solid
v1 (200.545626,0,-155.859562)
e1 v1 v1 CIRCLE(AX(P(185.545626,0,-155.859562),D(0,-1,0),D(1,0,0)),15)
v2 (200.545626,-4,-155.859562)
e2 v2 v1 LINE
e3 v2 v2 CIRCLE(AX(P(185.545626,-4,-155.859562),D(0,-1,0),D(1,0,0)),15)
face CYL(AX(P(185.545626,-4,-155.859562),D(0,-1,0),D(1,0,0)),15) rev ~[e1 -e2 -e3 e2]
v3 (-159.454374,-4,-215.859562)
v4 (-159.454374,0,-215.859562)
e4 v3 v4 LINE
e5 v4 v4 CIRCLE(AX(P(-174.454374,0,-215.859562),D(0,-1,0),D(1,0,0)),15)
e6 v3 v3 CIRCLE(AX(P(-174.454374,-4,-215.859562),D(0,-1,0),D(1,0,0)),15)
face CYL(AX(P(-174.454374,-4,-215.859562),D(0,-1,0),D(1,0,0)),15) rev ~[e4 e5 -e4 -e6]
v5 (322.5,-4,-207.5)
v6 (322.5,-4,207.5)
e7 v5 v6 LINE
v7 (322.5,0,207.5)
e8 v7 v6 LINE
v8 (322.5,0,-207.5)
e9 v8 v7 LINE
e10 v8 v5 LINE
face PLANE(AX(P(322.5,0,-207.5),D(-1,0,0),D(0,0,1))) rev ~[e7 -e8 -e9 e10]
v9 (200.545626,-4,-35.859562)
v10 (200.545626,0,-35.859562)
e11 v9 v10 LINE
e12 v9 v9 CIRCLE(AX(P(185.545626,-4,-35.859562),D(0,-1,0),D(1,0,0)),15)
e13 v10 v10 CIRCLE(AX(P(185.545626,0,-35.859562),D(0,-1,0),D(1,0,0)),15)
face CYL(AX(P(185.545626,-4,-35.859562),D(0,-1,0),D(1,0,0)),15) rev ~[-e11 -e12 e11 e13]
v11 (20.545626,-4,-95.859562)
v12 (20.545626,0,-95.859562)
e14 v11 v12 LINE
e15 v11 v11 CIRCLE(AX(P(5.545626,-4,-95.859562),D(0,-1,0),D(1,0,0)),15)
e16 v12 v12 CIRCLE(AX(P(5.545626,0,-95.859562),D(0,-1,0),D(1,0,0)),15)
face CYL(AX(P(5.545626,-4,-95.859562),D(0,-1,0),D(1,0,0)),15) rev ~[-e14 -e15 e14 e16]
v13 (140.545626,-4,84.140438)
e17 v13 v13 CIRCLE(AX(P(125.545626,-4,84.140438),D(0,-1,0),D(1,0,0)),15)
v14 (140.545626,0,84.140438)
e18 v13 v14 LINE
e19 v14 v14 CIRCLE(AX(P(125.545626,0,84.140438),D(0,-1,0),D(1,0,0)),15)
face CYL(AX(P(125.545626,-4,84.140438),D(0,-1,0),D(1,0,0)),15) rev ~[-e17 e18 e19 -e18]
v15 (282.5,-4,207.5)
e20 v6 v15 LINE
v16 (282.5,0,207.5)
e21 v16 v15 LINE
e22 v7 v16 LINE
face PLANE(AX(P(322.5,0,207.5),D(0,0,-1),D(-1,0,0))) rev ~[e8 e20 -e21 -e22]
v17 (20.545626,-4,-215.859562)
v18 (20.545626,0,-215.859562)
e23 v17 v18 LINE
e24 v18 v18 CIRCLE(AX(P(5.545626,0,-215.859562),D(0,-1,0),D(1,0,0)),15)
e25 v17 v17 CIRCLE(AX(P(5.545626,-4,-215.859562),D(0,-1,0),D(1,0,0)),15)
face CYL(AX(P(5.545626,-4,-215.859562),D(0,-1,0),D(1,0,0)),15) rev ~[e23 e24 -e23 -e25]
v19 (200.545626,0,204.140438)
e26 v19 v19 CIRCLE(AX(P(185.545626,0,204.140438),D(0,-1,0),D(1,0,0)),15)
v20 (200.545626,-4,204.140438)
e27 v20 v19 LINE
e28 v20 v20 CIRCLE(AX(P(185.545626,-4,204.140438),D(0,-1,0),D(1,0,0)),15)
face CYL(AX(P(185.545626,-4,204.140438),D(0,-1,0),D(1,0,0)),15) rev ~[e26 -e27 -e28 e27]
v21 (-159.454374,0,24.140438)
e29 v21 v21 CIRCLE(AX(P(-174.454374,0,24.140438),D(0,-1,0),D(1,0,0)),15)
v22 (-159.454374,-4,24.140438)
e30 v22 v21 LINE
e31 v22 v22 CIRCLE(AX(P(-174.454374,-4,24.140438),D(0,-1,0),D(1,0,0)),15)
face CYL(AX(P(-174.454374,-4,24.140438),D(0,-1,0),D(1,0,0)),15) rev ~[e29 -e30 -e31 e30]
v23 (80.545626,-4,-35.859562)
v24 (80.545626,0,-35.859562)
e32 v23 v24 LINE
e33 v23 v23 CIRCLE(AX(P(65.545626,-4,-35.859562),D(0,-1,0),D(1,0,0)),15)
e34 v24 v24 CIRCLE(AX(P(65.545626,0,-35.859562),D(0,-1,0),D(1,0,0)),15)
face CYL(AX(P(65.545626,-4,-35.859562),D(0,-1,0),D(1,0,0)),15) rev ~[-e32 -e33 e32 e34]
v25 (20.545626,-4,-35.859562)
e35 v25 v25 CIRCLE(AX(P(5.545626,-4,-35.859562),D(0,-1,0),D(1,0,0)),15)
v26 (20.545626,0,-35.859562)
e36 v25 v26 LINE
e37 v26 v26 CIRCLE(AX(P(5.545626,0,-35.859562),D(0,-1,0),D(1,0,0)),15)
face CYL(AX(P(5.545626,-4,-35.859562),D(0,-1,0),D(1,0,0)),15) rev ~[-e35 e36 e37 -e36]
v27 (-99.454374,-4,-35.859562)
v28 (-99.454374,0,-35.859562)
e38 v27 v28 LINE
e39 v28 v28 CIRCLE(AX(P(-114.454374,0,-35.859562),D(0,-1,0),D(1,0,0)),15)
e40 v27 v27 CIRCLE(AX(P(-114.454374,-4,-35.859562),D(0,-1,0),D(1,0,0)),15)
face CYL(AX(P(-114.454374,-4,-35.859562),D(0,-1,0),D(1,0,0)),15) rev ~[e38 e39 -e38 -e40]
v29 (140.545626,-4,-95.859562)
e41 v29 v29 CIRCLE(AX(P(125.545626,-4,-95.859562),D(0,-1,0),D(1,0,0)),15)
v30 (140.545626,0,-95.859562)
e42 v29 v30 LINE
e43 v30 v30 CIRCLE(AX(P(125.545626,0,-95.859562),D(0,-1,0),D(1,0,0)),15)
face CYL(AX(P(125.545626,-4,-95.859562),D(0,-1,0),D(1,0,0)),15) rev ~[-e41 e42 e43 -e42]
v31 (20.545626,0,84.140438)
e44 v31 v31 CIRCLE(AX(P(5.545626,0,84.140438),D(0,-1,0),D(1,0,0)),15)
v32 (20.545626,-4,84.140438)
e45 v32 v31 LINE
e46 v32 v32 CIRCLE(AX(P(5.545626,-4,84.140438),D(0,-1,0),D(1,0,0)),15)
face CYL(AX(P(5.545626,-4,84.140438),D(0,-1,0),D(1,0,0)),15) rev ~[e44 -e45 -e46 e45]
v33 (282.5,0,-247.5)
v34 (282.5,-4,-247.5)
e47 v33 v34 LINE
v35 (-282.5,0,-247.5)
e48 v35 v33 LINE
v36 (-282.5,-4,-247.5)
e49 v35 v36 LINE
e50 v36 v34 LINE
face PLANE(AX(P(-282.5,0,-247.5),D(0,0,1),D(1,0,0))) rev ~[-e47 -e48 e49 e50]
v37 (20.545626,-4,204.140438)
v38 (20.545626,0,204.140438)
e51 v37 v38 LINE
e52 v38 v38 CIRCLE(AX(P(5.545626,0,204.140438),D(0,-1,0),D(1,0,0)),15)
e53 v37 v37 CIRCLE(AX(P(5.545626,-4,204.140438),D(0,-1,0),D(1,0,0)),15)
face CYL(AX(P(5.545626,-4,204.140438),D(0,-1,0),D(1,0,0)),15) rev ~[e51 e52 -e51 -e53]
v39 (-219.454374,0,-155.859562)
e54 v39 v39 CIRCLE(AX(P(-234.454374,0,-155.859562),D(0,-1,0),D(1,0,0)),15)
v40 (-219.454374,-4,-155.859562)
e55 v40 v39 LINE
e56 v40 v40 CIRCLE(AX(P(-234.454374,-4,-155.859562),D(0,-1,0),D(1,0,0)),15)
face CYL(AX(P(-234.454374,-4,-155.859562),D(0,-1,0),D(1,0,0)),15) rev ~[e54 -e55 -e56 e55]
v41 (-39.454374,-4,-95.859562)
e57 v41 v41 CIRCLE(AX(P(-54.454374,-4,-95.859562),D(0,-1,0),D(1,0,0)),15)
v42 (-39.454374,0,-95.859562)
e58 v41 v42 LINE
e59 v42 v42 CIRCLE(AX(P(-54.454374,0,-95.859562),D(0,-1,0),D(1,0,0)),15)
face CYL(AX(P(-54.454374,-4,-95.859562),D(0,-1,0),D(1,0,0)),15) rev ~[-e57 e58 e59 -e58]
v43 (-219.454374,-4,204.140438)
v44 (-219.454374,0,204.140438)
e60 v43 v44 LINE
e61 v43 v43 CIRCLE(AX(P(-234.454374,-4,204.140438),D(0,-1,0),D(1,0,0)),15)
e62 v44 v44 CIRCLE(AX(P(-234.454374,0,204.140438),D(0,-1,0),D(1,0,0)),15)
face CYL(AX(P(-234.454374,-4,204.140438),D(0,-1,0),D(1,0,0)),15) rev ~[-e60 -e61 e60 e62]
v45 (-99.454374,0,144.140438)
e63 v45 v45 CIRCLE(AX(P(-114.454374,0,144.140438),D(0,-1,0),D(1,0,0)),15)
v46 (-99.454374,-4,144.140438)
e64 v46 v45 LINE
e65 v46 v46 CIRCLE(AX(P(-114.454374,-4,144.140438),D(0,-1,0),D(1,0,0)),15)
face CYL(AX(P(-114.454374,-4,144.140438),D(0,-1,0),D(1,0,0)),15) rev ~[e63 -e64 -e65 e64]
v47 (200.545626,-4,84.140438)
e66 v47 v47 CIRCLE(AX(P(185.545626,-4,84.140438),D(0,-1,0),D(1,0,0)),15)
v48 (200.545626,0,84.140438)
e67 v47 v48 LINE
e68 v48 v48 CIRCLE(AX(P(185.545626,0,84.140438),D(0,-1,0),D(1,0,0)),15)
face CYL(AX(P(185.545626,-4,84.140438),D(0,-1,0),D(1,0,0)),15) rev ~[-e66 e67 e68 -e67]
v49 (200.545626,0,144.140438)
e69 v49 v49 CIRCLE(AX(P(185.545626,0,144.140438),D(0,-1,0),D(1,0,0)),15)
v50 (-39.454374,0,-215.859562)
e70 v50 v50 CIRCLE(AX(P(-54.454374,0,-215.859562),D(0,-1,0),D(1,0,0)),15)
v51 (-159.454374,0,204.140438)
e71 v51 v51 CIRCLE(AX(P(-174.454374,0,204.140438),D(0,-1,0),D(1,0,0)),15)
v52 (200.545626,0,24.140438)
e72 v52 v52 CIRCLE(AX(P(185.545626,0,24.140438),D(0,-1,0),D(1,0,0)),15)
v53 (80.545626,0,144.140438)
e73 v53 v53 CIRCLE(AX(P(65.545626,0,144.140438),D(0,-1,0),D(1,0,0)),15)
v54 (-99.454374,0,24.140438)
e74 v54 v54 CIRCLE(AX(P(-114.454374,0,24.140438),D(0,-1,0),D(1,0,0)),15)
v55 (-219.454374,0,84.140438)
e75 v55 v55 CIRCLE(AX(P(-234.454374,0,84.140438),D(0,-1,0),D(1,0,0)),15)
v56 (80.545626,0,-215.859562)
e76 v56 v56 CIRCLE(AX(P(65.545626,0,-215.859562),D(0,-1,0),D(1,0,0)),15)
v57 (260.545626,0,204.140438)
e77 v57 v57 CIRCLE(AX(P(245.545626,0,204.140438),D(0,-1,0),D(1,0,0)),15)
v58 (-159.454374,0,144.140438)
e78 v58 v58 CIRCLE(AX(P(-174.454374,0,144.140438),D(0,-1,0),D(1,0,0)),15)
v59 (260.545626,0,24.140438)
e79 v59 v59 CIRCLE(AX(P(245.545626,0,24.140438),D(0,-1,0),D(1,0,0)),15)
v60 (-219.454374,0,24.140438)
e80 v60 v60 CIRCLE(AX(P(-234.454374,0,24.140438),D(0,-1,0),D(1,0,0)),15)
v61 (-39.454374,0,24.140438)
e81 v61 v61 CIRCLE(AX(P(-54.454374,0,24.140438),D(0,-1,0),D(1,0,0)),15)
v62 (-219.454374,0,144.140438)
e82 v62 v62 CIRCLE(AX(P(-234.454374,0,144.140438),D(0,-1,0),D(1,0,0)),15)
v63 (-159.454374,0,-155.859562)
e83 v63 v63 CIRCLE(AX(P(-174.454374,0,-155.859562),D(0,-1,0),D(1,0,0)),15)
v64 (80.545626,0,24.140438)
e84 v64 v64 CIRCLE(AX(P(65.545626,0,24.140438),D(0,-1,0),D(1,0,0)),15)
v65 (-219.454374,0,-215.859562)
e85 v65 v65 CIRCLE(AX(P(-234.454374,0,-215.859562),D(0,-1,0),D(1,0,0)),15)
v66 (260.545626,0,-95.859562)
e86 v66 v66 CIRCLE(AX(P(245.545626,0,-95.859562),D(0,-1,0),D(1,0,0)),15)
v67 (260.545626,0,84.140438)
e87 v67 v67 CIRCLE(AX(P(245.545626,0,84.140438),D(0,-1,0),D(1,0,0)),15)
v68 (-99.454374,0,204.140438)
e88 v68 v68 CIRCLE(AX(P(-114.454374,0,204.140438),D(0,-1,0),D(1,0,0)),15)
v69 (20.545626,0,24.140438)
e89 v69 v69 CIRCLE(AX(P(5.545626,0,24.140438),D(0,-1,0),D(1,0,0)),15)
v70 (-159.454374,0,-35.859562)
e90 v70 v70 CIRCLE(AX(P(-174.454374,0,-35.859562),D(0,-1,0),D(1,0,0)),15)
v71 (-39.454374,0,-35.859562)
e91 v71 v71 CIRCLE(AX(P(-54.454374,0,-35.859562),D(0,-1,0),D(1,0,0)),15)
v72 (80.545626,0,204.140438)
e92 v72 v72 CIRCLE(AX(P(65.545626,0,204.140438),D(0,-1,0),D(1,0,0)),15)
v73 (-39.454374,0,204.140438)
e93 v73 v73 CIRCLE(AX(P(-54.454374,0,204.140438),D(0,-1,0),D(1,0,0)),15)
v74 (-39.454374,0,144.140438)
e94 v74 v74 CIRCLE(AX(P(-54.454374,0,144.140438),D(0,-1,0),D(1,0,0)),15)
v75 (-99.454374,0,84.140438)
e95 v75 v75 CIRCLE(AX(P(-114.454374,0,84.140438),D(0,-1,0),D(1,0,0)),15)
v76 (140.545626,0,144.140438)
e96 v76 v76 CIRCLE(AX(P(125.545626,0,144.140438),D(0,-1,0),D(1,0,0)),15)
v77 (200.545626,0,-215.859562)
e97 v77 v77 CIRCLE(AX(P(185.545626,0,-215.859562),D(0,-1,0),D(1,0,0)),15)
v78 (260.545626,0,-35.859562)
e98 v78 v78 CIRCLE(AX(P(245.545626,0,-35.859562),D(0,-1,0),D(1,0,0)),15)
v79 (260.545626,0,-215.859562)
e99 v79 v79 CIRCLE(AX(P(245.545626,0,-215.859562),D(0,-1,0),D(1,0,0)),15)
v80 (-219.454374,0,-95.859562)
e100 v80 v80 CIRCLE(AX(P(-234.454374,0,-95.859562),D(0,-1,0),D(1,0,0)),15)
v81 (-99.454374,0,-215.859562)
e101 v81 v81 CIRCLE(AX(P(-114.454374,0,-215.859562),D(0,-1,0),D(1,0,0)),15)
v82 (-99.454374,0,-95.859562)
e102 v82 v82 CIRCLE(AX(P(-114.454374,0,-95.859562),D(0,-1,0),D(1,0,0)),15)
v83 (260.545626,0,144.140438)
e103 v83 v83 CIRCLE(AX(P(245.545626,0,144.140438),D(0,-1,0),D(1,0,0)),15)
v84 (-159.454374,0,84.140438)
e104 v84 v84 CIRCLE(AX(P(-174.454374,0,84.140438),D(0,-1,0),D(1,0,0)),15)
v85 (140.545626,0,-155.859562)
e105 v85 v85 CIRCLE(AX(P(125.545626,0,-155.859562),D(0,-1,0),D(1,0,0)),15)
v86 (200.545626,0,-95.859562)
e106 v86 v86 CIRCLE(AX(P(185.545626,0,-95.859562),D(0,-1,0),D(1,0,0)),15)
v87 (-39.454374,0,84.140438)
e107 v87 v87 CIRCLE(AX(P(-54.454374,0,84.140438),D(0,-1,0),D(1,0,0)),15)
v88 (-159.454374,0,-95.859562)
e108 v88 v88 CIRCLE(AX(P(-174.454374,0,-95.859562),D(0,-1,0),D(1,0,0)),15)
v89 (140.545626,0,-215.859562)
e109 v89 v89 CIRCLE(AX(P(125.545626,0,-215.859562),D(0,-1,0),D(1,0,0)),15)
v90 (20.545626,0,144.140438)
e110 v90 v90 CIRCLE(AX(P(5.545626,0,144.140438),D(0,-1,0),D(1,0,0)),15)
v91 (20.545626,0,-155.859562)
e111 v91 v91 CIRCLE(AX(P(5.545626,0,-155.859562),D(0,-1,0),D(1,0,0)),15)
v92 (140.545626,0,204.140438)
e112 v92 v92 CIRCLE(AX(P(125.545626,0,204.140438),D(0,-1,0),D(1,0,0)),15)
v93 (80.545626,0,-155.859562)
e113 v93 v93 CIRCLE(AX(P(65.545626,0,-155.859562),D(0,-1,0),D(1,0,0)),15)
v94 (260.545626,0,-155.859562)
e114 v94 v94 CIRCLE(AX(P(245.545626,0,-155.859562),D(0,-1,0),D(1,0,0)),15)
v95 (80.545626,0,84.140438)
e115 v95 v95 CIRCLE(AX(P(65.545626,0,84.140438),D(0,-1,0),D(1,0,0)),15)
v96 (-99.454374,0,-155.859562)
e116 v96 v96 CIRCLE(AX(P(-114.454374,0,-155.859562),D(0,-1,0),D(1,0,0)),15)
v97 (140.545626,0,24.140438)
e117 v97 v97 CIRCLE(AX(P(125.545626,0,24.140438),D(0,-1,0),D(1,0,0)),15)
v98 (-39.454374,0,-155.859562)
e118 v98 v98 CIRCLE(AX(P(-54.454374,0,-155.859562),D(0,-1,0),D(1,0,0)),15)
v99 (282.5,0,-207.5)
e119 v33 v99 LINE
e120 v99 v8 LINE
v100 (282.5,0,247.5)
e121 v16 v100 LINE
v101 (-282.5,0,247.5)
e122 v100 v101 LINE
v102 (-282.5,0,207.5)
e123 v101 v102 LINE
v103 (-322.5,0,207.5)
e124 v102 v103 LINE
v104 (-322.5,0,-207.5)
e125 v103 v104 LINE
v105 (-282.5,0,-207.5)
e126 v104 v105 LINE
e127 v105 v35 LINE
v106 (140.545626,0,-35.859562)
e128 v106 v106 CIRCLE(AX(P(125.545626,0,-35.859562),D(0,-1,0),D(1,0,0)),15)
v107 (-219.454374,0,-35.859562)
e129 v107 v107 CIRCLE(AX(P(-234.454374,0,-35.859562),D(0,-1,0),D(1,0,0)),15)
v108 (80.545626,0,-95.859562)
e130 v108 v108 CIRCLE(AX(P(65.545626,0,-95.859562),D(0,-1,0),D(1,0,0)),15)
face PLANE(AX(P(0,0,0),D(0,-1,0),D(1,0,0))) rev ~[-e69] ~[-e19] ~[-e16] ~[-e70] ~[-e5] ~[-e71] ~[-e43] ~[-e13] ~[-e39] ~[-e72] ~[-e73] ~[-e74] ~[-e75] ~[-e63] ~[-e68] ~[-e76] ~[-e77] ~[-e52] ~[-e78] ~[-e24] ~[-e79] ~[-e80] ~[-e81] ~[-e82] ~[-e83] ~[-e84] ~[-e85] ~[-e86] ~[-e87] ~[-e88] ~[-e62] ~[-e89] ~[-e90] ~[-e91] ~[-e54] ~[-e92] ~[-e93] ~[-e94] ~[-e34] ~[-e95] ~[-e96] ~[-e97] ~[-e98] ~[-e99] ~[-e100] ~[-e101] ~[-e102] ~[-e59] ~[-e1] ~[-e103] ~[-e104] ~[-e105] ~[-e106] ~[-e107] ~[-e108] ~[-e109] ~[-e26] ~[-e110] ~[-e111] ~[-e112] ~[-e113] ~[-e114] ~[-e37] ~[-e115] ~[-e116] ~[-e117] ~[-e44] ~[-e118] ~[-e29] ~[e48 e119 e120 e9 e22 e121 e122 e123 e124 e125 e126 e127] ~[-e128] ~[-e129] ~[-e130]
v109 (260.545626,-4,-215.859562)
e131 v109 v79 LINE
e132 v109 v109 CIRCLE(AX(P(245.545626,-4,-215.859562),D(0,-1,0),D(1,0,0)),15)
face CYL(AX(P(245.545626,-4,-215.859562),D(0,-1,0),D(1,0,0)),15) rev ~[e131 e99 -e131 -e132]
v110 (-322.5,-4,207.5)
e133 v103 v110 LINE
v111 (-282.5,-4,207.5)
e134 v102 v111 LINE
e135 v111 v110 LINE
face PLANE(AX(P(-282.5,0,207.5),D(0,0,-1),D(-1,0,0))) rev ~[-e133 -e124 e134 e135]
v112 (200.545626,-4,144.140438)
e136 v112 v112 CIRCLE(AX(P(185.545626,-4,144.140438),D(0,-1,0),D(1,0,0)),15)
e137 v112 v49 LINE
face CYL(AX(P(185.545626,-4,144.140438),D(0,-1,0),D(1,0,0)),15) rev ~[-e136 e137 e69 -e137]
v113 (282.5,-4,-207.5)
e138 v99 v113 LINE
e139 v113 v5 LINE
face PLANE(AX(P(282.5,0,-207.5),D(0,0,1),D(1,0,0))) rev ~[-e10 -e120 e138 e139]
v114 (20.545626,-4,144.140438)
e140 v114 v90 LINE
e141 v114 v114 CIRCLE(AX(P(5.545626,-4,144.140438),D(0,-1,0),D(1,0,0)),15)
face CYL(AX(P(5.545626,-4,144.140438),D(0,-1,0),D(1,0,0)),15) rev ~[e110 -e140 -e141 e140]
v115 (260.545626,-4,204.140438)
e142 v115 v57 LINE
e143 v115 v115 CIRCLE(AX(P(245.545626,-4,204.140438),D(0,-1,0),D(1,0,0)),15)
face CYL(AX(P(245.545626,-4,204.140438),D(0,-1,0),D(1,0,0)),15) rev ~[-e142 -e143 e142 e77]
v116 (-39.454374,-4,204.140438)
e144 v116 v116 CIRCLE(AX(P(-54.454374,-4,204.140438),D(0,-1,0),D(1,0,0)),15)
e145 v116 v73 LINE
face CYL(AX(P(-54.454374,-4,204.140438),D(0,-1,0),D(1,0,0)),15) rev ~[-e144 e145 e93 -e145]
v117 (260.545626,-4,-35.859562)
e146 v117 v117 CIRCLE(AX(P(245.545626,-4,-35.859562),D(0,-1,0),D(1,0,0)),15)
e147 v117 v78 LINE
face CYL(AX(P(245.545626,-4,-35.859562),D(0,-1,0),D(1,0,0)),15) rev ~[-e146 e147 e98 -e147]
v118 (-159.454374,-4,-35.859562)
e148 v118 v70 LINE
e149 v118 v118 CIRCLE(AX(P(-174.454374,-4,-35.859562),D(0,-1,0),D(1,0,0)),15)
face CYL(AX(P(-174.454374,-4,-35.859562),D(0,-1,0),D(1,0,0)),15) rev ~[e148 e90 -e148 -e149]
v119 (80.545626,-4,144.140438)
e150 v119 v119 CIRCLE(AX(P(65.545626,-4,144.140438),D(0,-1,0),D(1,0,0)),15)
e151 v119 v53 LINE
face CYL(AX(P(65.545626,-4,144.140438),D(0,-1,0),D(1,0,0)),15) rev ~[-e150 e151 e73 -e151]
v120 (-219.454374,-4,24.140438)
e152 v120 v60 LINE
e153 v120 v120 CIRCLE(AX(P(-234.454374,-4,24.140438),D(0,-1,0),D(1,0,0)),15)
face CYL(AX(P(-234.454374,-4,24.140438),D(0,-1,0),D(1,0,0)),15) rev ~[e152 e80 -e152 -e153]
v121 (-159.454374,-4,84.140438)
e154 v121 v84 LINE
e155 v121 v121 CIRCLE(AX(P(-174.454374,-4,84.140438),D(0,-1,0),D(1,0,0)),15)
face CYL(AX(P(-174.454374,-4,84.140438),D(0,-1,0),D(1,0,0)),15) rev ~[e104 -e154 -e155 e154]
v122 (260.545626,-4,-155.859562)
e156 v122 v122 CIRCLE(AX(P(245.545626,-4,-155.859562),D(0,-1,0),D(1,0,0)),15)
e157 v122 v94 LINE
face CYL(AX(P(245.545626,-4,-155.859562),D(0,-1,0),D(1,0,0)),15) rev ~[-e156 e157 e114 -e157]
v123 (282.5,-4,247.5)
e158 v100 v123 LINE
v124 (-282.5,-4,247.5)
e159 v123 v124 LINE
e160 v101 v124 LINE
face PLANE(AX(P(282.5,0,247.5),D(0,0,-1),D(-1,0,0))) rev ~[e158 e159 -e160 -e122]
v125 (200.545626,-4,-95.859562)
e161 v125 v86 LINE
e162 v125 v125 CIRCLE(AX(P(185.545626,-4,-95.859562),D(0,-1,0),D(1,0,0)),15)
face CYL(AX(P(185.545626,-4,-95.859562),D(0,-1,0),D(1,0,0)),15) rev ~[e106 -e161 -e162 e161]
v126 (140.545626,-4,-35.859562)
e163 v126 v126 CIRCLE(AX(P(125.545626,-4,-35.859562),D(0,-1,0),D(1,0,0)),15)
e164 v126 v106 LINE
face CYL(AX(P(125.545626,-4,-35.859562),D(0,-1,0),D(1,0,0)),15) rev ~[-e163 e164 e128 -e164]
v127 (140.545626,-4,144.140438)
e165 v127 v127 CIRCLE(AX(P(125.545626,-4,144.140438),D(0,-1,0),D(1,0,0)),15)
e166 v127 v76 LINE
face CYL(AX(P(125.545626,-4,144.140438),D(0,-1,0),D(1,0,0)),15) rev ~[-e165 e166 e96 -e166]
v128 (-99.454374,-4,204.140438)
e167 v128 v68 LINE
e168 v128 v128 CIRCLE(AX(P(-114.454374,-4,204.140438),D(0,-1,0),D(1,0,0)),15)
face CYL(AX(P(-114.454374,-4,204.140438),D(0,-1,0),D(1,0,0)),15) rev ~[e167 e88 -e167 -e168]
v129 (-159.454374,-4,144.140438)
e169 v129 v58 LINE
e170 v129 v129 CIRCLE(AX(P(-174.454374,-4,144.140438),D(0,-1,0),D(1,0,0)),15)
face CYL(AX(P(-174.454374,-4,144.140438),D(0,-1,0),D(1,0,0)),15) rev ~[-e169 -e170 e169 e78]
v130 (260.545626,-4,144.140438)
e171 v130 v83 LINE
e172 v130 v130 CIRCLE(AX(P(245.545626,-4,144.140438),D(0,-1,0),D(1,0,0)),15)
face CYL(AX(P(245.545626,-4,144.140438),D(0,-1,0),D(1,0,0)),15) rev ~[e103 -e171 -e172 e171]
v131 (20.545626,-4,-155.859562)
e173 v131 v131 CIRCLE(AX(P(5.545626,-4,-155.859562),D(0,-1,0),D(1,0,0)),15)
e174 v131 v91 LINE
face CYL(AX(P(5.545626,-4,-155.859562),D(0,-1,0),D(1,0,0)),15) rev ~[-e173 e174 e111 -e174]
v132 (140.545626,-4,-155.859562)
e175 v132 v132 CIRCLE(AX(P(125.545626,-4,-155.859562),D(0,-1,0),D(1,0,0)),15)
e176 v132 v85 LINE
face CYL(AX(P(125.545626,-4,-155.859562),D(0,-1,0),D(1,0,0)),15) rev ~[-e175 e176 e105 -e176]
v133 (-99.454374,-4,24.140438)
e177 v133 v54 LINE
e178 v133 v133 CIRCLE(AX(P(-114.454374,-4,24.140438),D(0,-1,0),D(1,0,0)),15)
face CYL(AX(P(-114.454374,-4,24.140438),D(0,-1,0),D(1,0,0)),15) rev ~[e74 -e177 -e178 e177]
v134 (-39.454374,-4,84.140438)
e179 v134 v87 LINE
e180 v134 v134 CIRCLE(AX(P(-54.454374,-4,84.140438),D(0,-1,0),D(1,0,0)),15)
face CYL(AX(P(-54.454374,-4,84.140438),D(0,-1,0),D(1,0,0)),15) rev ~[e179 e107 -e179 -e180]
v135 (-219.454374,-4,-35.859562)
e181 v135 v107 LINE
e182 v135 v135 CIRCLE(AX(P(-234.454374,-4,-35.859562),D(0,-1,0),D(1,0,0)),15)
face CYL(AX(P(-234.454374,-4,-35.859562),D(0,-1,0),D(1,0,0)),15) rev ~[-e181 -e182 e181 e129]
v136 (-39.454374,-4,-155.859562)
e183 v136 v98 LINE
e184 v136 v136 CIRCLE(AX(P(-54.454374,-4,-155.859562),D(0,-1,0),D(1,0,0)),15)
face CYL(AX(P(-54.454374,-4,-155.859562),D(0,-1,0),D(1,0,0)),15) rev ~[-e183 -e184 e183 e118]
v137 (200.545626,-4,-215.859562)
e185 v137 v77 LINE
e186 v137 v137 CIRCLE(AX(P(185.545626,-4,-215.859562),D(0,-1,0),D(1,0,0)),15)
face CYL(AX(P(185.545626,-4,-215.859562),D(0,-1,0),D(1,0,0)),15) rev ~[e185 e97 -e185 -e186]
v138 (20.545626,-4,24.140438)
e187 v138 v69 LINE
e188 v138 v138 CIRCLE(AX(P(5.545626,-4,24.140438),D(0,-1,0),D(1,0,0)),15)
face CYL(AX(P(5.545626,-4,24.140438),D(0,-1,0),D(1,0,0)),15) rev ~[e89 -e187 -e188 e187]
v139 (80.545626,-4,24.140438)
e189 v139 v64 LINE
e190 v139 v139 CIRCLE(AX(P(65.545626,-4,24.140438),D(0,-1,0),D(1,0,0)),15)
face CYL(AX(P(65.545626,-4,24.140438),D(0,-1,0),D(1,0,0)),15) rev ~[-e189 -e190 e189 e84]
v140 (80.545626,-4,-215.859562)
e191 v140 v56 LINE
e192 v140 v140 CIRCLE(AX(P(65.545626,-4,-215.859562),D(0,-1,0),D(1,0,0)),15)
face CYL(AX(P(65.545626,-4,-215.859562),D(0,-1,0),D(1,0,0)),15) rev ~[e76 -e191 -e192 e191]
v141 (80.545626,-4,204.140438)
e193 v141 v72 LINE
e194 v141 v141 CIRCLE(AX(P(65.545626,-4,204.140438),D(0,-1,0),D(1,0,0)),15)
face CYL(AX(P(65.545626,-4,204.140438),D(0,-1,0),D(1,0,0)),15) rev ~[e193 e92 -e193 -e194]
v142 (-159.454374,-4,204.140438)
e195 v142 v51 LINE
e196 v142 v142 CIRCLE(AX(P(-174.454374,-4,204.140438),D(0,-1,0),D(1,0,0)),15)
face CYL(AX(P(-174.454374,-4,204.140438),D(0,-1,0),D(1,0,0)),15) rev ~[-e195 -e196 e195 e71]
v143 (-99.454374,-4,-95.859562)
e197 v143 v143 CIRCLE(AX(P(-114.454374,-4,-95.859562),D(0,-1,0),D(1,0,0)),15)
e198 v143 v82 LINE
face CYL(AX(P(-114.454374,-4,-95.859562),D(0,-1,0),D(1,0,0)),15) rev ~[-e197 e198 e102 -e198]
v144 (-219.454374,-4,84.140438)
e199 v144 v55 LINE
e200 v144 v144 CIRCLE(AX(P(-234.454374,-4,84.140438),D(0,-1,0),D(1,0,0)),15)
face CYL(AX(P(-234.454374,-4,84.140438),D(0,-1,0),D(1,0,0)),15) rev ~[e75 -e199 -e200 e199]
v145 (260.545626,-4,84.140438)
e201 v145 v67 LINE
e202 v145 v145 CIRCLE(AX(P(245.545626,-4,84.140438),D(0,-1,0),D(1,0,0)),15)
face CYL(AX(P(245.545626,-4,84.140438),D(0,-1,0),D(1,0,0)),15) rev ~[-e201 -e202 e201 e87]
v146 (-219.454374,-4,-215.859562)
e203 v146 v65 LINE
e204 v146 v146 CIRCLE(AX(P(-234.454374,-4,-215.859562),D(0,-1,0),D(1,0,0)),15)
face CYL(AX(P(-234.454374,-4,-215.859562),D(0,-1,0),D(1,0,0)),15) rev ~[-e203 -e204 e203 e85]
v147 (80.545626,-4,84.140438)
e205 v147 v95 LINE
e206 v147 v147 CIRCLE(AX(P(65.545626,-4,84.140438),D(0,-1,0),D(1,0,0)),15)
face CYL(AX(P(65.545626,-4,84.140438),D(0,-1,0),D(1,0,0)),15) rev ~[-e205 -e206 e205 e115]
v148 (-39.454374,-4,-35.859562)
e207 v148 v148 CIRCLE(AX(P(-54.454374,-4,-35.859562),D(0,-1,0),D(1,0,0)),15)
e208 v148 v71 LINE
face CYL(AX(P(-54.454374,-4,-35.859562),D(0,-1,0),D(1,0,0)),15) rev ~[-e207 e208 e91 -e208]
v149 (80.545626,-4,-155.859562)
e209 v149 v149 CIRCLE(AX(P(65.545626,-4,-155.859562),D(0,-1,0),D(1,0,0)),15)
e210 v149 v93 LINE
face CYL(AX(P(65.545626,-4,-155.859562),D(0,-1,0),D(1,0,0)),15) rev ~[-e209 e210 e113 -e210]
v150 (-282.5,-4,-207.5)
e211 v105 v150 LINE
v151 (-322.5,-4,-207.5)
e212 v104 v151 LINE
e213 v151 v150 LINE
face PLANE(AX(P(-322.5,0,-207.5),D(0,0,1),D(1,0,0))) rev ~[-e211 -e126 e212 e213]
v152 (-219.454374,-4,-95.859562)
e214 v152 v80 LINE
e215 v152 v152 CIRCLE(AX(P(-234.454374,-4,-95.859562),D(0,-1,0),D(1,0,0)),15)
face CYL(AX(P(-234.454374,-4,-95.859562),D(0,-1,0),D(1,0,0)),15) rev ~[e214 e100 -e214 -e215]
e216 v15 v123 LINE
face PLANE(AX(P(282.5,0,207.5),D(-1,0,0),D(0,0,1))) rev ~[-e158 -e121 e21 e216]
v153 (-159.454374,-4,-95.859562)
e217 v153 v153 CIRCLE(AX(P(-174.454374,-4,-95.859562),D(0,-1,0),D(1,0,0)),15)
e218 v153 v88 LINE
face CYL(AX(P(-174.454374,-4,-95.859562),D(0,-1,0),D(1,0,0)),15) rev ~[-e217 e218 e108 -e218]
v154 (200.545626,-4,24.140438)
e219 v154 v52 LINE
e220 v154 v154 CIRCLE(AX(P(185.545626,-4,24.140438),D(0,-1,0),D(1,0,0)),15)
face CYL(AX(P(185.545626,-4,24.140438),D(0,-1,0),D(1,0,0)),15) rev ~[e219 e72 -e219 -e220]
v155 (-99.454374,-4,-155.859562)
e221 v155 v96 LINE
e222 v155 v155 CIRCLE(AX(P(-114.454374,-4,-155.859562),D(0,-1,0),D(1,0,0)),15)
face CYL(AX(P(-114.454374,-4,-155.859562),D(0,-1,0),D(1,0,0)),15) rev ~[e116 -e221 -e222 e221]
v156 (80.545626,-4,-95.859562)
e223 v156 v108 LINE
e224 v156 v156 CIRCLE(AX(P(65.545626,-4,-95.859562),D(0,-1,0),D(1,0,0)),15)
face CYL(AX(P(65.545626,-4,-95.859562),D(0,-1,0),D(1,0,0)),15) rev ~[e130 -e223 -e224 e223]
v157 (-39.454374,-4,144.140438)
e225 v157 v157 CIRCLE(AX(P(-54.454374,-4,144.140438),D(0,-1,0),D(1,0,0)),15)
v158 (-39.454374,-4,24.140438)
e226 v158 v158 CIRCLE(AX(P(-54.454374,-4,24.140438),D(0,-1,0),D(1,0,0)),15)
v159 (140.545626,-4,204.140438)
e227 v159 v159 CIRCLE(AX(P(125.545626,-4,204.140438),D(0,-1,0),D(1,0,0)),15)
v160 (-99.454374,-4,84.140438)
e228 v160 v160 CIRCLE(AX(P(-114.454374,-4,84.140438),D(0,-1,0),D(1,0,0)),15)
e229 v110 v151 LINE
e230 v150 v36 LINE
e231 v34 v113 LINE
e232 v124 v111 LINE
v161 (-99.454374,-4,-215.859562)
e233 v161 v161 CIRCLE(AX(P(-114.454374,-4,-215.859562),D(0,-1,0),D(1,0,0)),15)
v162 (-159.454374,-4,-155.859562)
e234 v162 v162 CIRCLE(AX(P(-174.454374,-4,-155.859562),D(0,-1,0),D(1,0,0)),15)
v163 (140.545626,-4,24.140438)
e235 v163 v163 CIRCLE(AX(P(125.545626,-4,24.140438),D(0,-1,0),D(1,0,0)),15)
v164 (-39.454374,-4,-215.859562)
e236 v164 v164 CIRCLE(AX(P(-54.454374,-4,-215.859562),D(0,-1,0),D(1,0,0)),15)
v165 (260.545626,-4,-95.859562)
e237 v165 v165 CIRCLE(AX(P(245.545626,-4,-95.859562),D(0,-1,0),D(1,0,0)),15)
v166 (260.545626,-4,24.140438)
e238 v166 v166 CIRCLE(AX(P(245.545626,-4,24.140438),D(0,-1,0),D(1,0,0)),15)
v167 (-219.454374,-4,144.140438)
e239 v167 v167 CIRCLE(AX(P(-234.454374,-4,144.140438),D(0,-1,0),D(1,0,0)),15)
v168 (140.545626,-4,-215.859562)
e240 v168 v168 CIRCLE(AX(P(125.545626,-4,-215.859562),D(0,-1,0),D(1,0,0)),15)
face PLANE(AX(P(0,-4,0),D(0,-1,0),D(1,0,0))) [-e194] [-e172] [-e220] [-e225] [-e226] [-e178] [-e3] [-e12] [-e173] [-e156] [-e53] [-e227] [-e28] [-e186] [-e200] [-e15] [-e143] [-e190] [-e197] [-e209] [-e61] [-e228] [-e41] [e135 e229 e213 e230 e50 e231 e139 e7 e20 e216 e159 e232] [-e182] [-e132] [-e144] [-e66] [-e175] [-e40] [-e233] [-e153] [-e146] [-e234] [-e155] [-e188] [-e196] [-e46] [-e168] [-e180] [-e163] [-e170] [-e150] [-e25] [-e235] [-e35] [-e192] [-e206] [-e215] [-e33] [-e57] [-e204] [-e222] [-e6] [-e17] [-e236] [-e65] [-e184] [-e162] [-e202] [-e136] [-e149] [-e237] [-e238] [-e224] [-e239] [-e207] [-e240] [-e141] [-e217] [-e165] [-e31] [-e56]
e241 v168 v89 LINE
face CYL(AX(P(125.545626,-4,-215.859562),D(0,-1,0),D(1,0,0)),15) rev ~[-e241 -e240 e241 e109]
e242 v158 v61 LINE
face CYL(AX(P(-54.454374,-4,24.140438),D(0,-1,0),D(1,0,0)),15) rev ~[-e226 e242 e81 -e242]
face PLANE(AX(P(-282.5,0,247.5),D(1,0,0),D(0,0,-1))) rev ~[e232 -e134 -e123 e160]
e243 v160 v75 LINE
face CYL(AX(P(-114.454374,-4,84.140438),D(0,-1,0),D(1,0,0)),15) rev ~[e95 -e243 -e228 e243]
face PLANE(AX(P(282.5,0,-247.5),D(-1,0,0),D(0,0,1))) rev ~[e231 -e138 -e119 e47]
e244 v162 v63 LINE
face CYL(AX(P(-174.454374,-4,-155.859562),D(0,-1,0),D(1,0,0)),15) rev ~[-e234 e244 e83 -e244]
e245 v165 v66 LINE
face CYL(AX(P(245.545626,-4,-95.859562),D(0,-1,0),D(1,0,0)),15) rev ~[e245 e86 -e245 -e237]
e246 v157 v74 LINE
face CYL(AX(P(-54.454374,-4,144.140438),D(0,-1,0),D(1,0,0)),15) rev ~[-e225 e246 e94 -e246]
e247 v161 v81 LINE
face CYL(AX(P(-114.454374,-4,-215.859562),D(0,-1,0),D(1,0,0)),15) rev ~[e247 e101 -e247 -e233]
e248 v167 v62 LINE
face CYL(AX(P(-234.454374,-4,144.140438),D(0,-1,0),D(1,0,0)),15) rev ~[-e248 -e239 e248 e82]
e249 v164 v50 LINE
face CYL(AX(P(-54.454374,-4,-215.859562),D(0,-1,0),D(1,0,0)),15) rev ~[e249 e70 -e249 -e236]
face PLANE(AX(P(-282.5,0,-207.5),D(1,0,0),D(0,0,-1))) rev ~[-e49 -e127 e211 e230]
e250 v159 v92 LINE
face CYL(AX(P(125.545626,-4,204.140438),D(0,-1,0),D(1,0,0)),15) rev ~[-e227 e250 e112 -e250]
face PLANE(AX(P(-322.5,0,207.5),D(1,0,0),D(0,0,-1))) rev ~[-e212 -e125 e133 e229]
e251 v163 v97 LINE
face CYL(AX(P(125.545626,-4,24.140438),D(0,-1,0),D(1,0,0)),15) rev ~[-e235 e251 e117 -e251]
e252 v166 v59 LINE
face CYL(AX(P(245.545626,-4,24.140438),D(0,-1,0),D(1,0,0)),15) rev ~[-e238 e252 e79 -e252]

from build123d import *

# Parameters (mm, degrees)
F1_DEPTH = 4
F2_R     = 15
F3_DEPTH = 5


with BuildPart() as f1:
    # F0 (on Front) → F1 (new body)
    with BuildSketch(Plane.XZ):
        Polygon((282.5, 247.5), (0, 247.5), (-282.5, 247.5), (-282.5, 207.5), (-322.5, 207.5), (-322.5, 0), (-322.5, -207.5), (-282.5, -207.5), (-282.5, -247.5), (0, -247.5), (282.5, -247.5), (282.5, -207.5), (322.5, -207.5), (322.5, 0), (322.5, 207.5), (282.5, 207.5), align=None)
    extrude(amount=F1_DEPTH)

    # F2 (on face) → F3 (cut)
    with BuildSketch(Plane.XZ.offset(4)):
        with Locations((245.545626, -215.859562)):
            Circle(F2_R)
        with Locations((245.545626, -155.859562)):
            Circle(F2_R)
        with Locations((245.545626, -95.859562)):
            Circle(F2_R)
        with Locations((245.545626, -35.859562)):
            Circle(F2_R)
        with Locations((245.545626, 24.140438)):
            Circle(F2_R)
        with Locations((245.545626, 84.140438)):
            Circle(F2_R)
        with Locations((245.545626, 144.140438)):
            Circle(F2_R)
        with Locations((245.545626, 204.140438)):
            Circle(F2_R)
        with Locations((185.545626, -215.859562)):
            Circle(F2_R)
        with Locations((185.545626, -155.859562)):
            Circle(F2_R)
        with Locations((185.545626, -95.859562)):
            Circle(F2_R)
        with Locations((185.545626, -35.859562)):
            Circle(F2_R)
        with Locations((185.545626, 24.140438)):
            Circle(F2_R)
        with Locations((185.545626, 84.140438)):
            Circle(F2_R)
        with Locations((185.545626, 144.140438)):
            Circle(F2_R)
        with Locations((185.545626, 204.140438)):
            Circle(F2_R)
        with Locations((125.545626, -215.859562)):
            Circle(F2_R)
        with Locations((125.545626, -155.859562)):
            Circle(F2_R)
        with Locations((125.545626, -95.859562)):
            Circle(F2_R)
        with Locations((125.545626, -35.859562)):
            Circle(F2_R)
        with Locations((125.545626, 24.140438)):
            Circle(F2_R)
        with Locations((125.545626, 84.140438)):
            Circle(F2_R)
        with Locations((125.545626, 144.140438)):
            Circle(F2_R)
        with Locations((125.545626, 204.140438)):
            Circle(F2_R)
        with Locations((65.545626, -215.859562)):
            Circle(F2_R)
        with Locations((65.545626, -155.859562)):
            Circle(F2_R)
        with Locations((65.545626, -95.859562)):
            Circle(F2_R)
        with Locations((65.545626, -35.859562)):
            Circle(F2_R)
        with Locations((65.545626, 24.140438)):
            Circle(F2_R)
        with Locations((65.545626, 84.140438)):
            Circle(F2_R)
        with Locations((65.545626, 144.140438)):
            Circle(F2_R)
        with Locations((65.545626, 204.140438)):
            Circle(F2_R)
        with Locations((5.545626, -215.859562)):
            Circle(F2_R)
        with Locations((5.545626, -155.859562)):
            Circle(F2_R)
        with Locations((5.545626, -95.859562)):
            Circle(F2_R)
        with Locations((5.545626, -35.859562)):
            Circle(F2_R)
        with Locations((5.545626, 24.140438)):
            Circle(F2_R)
        with Locations((5.545626, 84.140438)):
            Circle(F2_R)
        with Locations((5.545626, 144.140438)):
            Circle(F2_R)
        with Locations((5.545626, 204.140438)):
            Circle(F2_R)
        with Locations((-54.454374, -215.859562)):
            Circle(F2_R)
        with Locations((-54.454374, -155.859562)):
            Circle(F2_R)
        with Locations((-54.454374, -95.859562)):
            Circle(F2_R)
        with Locations((-54.454374, -35.859562)):
            Circle(F2_R)
        with Locations((-54.454374, 24.140438)):
            Circle(F2_R)
        with Locations((-54.454374, 84.140438)):
            Circle(F2_R)
        with Locations((-54.454374, 144.140438)):
            Circle(F2_R)
        with Locations((-54.454374, 204.140438)):
            Circle(F2_R)
        with Locations((-114.454374, -215.859562)):
            Circle(F2_R)
        with Locations((-114.454374, -155.859562)):
            Circle(F2_R)
        with Locations((-114.454374, -95.859562)):
            Circle(F2_R)
        with Locations((-114.454374, -35.859562)):
            Circle(F2_R)
        with Locations((-114.454374, 24.140438)):
            Circle(F2_R)
        with Locations((-114.454374, 84.140438)):
            Circle(F2_R)
        with Locations((-114.454374, 144.140438)):
            Circle(F2_R)
        with Locations((-114.454374, 204.140438)):
            Circle(F2_R)
        with Locations((-174.454374, -215.859562)):
            Circle(F2_R)
        with Locations((-174.454374, -155.859562)):
            Circle(F2_R)
        with Locations((-174.454374, -95.859562)):
            Circle(F2_R)
        with Locations((-174.454374, -35.859562)):
            Circle(F2_R)
        with Locations((-174.454374, 24.140438)):
            Circle(F2_R)
        with Locations((-174.454374, 84.140438)):
            Circle(F2_R)
        with Locations((-174.454374, 144.140438)):
            Circle(F2_R)
        with Locations((-174.454374, 204.140438)):
            Circle(F2_R)
        with Locations((-234.454374, -215.859562)):
            Circle(F2_R)
        with Locations((-234.454374, -155.859562)):
            Circle(F2_R)
        with Locations((-234.454374, -95.859562)):
            Circle(F2_R)
        with Locations((-234.454374, -35.859562)):
            Circle(F2_R)
        with Locations((-234.454374, 24.140438)):
            Circle(F2_R)
        with Locations((-234.454374, 84.140438)):
            Circle(F2_R)
        with Locations((-234.454374, 144.140438)):
            Circle(F2_R)
        with Locations((-234.454374, 204.140438)):
            Circle(F2_R)
    extrude(amount=-F3_DEPTH, mode=Mode.SUBTRACT)


solid = f1.part
